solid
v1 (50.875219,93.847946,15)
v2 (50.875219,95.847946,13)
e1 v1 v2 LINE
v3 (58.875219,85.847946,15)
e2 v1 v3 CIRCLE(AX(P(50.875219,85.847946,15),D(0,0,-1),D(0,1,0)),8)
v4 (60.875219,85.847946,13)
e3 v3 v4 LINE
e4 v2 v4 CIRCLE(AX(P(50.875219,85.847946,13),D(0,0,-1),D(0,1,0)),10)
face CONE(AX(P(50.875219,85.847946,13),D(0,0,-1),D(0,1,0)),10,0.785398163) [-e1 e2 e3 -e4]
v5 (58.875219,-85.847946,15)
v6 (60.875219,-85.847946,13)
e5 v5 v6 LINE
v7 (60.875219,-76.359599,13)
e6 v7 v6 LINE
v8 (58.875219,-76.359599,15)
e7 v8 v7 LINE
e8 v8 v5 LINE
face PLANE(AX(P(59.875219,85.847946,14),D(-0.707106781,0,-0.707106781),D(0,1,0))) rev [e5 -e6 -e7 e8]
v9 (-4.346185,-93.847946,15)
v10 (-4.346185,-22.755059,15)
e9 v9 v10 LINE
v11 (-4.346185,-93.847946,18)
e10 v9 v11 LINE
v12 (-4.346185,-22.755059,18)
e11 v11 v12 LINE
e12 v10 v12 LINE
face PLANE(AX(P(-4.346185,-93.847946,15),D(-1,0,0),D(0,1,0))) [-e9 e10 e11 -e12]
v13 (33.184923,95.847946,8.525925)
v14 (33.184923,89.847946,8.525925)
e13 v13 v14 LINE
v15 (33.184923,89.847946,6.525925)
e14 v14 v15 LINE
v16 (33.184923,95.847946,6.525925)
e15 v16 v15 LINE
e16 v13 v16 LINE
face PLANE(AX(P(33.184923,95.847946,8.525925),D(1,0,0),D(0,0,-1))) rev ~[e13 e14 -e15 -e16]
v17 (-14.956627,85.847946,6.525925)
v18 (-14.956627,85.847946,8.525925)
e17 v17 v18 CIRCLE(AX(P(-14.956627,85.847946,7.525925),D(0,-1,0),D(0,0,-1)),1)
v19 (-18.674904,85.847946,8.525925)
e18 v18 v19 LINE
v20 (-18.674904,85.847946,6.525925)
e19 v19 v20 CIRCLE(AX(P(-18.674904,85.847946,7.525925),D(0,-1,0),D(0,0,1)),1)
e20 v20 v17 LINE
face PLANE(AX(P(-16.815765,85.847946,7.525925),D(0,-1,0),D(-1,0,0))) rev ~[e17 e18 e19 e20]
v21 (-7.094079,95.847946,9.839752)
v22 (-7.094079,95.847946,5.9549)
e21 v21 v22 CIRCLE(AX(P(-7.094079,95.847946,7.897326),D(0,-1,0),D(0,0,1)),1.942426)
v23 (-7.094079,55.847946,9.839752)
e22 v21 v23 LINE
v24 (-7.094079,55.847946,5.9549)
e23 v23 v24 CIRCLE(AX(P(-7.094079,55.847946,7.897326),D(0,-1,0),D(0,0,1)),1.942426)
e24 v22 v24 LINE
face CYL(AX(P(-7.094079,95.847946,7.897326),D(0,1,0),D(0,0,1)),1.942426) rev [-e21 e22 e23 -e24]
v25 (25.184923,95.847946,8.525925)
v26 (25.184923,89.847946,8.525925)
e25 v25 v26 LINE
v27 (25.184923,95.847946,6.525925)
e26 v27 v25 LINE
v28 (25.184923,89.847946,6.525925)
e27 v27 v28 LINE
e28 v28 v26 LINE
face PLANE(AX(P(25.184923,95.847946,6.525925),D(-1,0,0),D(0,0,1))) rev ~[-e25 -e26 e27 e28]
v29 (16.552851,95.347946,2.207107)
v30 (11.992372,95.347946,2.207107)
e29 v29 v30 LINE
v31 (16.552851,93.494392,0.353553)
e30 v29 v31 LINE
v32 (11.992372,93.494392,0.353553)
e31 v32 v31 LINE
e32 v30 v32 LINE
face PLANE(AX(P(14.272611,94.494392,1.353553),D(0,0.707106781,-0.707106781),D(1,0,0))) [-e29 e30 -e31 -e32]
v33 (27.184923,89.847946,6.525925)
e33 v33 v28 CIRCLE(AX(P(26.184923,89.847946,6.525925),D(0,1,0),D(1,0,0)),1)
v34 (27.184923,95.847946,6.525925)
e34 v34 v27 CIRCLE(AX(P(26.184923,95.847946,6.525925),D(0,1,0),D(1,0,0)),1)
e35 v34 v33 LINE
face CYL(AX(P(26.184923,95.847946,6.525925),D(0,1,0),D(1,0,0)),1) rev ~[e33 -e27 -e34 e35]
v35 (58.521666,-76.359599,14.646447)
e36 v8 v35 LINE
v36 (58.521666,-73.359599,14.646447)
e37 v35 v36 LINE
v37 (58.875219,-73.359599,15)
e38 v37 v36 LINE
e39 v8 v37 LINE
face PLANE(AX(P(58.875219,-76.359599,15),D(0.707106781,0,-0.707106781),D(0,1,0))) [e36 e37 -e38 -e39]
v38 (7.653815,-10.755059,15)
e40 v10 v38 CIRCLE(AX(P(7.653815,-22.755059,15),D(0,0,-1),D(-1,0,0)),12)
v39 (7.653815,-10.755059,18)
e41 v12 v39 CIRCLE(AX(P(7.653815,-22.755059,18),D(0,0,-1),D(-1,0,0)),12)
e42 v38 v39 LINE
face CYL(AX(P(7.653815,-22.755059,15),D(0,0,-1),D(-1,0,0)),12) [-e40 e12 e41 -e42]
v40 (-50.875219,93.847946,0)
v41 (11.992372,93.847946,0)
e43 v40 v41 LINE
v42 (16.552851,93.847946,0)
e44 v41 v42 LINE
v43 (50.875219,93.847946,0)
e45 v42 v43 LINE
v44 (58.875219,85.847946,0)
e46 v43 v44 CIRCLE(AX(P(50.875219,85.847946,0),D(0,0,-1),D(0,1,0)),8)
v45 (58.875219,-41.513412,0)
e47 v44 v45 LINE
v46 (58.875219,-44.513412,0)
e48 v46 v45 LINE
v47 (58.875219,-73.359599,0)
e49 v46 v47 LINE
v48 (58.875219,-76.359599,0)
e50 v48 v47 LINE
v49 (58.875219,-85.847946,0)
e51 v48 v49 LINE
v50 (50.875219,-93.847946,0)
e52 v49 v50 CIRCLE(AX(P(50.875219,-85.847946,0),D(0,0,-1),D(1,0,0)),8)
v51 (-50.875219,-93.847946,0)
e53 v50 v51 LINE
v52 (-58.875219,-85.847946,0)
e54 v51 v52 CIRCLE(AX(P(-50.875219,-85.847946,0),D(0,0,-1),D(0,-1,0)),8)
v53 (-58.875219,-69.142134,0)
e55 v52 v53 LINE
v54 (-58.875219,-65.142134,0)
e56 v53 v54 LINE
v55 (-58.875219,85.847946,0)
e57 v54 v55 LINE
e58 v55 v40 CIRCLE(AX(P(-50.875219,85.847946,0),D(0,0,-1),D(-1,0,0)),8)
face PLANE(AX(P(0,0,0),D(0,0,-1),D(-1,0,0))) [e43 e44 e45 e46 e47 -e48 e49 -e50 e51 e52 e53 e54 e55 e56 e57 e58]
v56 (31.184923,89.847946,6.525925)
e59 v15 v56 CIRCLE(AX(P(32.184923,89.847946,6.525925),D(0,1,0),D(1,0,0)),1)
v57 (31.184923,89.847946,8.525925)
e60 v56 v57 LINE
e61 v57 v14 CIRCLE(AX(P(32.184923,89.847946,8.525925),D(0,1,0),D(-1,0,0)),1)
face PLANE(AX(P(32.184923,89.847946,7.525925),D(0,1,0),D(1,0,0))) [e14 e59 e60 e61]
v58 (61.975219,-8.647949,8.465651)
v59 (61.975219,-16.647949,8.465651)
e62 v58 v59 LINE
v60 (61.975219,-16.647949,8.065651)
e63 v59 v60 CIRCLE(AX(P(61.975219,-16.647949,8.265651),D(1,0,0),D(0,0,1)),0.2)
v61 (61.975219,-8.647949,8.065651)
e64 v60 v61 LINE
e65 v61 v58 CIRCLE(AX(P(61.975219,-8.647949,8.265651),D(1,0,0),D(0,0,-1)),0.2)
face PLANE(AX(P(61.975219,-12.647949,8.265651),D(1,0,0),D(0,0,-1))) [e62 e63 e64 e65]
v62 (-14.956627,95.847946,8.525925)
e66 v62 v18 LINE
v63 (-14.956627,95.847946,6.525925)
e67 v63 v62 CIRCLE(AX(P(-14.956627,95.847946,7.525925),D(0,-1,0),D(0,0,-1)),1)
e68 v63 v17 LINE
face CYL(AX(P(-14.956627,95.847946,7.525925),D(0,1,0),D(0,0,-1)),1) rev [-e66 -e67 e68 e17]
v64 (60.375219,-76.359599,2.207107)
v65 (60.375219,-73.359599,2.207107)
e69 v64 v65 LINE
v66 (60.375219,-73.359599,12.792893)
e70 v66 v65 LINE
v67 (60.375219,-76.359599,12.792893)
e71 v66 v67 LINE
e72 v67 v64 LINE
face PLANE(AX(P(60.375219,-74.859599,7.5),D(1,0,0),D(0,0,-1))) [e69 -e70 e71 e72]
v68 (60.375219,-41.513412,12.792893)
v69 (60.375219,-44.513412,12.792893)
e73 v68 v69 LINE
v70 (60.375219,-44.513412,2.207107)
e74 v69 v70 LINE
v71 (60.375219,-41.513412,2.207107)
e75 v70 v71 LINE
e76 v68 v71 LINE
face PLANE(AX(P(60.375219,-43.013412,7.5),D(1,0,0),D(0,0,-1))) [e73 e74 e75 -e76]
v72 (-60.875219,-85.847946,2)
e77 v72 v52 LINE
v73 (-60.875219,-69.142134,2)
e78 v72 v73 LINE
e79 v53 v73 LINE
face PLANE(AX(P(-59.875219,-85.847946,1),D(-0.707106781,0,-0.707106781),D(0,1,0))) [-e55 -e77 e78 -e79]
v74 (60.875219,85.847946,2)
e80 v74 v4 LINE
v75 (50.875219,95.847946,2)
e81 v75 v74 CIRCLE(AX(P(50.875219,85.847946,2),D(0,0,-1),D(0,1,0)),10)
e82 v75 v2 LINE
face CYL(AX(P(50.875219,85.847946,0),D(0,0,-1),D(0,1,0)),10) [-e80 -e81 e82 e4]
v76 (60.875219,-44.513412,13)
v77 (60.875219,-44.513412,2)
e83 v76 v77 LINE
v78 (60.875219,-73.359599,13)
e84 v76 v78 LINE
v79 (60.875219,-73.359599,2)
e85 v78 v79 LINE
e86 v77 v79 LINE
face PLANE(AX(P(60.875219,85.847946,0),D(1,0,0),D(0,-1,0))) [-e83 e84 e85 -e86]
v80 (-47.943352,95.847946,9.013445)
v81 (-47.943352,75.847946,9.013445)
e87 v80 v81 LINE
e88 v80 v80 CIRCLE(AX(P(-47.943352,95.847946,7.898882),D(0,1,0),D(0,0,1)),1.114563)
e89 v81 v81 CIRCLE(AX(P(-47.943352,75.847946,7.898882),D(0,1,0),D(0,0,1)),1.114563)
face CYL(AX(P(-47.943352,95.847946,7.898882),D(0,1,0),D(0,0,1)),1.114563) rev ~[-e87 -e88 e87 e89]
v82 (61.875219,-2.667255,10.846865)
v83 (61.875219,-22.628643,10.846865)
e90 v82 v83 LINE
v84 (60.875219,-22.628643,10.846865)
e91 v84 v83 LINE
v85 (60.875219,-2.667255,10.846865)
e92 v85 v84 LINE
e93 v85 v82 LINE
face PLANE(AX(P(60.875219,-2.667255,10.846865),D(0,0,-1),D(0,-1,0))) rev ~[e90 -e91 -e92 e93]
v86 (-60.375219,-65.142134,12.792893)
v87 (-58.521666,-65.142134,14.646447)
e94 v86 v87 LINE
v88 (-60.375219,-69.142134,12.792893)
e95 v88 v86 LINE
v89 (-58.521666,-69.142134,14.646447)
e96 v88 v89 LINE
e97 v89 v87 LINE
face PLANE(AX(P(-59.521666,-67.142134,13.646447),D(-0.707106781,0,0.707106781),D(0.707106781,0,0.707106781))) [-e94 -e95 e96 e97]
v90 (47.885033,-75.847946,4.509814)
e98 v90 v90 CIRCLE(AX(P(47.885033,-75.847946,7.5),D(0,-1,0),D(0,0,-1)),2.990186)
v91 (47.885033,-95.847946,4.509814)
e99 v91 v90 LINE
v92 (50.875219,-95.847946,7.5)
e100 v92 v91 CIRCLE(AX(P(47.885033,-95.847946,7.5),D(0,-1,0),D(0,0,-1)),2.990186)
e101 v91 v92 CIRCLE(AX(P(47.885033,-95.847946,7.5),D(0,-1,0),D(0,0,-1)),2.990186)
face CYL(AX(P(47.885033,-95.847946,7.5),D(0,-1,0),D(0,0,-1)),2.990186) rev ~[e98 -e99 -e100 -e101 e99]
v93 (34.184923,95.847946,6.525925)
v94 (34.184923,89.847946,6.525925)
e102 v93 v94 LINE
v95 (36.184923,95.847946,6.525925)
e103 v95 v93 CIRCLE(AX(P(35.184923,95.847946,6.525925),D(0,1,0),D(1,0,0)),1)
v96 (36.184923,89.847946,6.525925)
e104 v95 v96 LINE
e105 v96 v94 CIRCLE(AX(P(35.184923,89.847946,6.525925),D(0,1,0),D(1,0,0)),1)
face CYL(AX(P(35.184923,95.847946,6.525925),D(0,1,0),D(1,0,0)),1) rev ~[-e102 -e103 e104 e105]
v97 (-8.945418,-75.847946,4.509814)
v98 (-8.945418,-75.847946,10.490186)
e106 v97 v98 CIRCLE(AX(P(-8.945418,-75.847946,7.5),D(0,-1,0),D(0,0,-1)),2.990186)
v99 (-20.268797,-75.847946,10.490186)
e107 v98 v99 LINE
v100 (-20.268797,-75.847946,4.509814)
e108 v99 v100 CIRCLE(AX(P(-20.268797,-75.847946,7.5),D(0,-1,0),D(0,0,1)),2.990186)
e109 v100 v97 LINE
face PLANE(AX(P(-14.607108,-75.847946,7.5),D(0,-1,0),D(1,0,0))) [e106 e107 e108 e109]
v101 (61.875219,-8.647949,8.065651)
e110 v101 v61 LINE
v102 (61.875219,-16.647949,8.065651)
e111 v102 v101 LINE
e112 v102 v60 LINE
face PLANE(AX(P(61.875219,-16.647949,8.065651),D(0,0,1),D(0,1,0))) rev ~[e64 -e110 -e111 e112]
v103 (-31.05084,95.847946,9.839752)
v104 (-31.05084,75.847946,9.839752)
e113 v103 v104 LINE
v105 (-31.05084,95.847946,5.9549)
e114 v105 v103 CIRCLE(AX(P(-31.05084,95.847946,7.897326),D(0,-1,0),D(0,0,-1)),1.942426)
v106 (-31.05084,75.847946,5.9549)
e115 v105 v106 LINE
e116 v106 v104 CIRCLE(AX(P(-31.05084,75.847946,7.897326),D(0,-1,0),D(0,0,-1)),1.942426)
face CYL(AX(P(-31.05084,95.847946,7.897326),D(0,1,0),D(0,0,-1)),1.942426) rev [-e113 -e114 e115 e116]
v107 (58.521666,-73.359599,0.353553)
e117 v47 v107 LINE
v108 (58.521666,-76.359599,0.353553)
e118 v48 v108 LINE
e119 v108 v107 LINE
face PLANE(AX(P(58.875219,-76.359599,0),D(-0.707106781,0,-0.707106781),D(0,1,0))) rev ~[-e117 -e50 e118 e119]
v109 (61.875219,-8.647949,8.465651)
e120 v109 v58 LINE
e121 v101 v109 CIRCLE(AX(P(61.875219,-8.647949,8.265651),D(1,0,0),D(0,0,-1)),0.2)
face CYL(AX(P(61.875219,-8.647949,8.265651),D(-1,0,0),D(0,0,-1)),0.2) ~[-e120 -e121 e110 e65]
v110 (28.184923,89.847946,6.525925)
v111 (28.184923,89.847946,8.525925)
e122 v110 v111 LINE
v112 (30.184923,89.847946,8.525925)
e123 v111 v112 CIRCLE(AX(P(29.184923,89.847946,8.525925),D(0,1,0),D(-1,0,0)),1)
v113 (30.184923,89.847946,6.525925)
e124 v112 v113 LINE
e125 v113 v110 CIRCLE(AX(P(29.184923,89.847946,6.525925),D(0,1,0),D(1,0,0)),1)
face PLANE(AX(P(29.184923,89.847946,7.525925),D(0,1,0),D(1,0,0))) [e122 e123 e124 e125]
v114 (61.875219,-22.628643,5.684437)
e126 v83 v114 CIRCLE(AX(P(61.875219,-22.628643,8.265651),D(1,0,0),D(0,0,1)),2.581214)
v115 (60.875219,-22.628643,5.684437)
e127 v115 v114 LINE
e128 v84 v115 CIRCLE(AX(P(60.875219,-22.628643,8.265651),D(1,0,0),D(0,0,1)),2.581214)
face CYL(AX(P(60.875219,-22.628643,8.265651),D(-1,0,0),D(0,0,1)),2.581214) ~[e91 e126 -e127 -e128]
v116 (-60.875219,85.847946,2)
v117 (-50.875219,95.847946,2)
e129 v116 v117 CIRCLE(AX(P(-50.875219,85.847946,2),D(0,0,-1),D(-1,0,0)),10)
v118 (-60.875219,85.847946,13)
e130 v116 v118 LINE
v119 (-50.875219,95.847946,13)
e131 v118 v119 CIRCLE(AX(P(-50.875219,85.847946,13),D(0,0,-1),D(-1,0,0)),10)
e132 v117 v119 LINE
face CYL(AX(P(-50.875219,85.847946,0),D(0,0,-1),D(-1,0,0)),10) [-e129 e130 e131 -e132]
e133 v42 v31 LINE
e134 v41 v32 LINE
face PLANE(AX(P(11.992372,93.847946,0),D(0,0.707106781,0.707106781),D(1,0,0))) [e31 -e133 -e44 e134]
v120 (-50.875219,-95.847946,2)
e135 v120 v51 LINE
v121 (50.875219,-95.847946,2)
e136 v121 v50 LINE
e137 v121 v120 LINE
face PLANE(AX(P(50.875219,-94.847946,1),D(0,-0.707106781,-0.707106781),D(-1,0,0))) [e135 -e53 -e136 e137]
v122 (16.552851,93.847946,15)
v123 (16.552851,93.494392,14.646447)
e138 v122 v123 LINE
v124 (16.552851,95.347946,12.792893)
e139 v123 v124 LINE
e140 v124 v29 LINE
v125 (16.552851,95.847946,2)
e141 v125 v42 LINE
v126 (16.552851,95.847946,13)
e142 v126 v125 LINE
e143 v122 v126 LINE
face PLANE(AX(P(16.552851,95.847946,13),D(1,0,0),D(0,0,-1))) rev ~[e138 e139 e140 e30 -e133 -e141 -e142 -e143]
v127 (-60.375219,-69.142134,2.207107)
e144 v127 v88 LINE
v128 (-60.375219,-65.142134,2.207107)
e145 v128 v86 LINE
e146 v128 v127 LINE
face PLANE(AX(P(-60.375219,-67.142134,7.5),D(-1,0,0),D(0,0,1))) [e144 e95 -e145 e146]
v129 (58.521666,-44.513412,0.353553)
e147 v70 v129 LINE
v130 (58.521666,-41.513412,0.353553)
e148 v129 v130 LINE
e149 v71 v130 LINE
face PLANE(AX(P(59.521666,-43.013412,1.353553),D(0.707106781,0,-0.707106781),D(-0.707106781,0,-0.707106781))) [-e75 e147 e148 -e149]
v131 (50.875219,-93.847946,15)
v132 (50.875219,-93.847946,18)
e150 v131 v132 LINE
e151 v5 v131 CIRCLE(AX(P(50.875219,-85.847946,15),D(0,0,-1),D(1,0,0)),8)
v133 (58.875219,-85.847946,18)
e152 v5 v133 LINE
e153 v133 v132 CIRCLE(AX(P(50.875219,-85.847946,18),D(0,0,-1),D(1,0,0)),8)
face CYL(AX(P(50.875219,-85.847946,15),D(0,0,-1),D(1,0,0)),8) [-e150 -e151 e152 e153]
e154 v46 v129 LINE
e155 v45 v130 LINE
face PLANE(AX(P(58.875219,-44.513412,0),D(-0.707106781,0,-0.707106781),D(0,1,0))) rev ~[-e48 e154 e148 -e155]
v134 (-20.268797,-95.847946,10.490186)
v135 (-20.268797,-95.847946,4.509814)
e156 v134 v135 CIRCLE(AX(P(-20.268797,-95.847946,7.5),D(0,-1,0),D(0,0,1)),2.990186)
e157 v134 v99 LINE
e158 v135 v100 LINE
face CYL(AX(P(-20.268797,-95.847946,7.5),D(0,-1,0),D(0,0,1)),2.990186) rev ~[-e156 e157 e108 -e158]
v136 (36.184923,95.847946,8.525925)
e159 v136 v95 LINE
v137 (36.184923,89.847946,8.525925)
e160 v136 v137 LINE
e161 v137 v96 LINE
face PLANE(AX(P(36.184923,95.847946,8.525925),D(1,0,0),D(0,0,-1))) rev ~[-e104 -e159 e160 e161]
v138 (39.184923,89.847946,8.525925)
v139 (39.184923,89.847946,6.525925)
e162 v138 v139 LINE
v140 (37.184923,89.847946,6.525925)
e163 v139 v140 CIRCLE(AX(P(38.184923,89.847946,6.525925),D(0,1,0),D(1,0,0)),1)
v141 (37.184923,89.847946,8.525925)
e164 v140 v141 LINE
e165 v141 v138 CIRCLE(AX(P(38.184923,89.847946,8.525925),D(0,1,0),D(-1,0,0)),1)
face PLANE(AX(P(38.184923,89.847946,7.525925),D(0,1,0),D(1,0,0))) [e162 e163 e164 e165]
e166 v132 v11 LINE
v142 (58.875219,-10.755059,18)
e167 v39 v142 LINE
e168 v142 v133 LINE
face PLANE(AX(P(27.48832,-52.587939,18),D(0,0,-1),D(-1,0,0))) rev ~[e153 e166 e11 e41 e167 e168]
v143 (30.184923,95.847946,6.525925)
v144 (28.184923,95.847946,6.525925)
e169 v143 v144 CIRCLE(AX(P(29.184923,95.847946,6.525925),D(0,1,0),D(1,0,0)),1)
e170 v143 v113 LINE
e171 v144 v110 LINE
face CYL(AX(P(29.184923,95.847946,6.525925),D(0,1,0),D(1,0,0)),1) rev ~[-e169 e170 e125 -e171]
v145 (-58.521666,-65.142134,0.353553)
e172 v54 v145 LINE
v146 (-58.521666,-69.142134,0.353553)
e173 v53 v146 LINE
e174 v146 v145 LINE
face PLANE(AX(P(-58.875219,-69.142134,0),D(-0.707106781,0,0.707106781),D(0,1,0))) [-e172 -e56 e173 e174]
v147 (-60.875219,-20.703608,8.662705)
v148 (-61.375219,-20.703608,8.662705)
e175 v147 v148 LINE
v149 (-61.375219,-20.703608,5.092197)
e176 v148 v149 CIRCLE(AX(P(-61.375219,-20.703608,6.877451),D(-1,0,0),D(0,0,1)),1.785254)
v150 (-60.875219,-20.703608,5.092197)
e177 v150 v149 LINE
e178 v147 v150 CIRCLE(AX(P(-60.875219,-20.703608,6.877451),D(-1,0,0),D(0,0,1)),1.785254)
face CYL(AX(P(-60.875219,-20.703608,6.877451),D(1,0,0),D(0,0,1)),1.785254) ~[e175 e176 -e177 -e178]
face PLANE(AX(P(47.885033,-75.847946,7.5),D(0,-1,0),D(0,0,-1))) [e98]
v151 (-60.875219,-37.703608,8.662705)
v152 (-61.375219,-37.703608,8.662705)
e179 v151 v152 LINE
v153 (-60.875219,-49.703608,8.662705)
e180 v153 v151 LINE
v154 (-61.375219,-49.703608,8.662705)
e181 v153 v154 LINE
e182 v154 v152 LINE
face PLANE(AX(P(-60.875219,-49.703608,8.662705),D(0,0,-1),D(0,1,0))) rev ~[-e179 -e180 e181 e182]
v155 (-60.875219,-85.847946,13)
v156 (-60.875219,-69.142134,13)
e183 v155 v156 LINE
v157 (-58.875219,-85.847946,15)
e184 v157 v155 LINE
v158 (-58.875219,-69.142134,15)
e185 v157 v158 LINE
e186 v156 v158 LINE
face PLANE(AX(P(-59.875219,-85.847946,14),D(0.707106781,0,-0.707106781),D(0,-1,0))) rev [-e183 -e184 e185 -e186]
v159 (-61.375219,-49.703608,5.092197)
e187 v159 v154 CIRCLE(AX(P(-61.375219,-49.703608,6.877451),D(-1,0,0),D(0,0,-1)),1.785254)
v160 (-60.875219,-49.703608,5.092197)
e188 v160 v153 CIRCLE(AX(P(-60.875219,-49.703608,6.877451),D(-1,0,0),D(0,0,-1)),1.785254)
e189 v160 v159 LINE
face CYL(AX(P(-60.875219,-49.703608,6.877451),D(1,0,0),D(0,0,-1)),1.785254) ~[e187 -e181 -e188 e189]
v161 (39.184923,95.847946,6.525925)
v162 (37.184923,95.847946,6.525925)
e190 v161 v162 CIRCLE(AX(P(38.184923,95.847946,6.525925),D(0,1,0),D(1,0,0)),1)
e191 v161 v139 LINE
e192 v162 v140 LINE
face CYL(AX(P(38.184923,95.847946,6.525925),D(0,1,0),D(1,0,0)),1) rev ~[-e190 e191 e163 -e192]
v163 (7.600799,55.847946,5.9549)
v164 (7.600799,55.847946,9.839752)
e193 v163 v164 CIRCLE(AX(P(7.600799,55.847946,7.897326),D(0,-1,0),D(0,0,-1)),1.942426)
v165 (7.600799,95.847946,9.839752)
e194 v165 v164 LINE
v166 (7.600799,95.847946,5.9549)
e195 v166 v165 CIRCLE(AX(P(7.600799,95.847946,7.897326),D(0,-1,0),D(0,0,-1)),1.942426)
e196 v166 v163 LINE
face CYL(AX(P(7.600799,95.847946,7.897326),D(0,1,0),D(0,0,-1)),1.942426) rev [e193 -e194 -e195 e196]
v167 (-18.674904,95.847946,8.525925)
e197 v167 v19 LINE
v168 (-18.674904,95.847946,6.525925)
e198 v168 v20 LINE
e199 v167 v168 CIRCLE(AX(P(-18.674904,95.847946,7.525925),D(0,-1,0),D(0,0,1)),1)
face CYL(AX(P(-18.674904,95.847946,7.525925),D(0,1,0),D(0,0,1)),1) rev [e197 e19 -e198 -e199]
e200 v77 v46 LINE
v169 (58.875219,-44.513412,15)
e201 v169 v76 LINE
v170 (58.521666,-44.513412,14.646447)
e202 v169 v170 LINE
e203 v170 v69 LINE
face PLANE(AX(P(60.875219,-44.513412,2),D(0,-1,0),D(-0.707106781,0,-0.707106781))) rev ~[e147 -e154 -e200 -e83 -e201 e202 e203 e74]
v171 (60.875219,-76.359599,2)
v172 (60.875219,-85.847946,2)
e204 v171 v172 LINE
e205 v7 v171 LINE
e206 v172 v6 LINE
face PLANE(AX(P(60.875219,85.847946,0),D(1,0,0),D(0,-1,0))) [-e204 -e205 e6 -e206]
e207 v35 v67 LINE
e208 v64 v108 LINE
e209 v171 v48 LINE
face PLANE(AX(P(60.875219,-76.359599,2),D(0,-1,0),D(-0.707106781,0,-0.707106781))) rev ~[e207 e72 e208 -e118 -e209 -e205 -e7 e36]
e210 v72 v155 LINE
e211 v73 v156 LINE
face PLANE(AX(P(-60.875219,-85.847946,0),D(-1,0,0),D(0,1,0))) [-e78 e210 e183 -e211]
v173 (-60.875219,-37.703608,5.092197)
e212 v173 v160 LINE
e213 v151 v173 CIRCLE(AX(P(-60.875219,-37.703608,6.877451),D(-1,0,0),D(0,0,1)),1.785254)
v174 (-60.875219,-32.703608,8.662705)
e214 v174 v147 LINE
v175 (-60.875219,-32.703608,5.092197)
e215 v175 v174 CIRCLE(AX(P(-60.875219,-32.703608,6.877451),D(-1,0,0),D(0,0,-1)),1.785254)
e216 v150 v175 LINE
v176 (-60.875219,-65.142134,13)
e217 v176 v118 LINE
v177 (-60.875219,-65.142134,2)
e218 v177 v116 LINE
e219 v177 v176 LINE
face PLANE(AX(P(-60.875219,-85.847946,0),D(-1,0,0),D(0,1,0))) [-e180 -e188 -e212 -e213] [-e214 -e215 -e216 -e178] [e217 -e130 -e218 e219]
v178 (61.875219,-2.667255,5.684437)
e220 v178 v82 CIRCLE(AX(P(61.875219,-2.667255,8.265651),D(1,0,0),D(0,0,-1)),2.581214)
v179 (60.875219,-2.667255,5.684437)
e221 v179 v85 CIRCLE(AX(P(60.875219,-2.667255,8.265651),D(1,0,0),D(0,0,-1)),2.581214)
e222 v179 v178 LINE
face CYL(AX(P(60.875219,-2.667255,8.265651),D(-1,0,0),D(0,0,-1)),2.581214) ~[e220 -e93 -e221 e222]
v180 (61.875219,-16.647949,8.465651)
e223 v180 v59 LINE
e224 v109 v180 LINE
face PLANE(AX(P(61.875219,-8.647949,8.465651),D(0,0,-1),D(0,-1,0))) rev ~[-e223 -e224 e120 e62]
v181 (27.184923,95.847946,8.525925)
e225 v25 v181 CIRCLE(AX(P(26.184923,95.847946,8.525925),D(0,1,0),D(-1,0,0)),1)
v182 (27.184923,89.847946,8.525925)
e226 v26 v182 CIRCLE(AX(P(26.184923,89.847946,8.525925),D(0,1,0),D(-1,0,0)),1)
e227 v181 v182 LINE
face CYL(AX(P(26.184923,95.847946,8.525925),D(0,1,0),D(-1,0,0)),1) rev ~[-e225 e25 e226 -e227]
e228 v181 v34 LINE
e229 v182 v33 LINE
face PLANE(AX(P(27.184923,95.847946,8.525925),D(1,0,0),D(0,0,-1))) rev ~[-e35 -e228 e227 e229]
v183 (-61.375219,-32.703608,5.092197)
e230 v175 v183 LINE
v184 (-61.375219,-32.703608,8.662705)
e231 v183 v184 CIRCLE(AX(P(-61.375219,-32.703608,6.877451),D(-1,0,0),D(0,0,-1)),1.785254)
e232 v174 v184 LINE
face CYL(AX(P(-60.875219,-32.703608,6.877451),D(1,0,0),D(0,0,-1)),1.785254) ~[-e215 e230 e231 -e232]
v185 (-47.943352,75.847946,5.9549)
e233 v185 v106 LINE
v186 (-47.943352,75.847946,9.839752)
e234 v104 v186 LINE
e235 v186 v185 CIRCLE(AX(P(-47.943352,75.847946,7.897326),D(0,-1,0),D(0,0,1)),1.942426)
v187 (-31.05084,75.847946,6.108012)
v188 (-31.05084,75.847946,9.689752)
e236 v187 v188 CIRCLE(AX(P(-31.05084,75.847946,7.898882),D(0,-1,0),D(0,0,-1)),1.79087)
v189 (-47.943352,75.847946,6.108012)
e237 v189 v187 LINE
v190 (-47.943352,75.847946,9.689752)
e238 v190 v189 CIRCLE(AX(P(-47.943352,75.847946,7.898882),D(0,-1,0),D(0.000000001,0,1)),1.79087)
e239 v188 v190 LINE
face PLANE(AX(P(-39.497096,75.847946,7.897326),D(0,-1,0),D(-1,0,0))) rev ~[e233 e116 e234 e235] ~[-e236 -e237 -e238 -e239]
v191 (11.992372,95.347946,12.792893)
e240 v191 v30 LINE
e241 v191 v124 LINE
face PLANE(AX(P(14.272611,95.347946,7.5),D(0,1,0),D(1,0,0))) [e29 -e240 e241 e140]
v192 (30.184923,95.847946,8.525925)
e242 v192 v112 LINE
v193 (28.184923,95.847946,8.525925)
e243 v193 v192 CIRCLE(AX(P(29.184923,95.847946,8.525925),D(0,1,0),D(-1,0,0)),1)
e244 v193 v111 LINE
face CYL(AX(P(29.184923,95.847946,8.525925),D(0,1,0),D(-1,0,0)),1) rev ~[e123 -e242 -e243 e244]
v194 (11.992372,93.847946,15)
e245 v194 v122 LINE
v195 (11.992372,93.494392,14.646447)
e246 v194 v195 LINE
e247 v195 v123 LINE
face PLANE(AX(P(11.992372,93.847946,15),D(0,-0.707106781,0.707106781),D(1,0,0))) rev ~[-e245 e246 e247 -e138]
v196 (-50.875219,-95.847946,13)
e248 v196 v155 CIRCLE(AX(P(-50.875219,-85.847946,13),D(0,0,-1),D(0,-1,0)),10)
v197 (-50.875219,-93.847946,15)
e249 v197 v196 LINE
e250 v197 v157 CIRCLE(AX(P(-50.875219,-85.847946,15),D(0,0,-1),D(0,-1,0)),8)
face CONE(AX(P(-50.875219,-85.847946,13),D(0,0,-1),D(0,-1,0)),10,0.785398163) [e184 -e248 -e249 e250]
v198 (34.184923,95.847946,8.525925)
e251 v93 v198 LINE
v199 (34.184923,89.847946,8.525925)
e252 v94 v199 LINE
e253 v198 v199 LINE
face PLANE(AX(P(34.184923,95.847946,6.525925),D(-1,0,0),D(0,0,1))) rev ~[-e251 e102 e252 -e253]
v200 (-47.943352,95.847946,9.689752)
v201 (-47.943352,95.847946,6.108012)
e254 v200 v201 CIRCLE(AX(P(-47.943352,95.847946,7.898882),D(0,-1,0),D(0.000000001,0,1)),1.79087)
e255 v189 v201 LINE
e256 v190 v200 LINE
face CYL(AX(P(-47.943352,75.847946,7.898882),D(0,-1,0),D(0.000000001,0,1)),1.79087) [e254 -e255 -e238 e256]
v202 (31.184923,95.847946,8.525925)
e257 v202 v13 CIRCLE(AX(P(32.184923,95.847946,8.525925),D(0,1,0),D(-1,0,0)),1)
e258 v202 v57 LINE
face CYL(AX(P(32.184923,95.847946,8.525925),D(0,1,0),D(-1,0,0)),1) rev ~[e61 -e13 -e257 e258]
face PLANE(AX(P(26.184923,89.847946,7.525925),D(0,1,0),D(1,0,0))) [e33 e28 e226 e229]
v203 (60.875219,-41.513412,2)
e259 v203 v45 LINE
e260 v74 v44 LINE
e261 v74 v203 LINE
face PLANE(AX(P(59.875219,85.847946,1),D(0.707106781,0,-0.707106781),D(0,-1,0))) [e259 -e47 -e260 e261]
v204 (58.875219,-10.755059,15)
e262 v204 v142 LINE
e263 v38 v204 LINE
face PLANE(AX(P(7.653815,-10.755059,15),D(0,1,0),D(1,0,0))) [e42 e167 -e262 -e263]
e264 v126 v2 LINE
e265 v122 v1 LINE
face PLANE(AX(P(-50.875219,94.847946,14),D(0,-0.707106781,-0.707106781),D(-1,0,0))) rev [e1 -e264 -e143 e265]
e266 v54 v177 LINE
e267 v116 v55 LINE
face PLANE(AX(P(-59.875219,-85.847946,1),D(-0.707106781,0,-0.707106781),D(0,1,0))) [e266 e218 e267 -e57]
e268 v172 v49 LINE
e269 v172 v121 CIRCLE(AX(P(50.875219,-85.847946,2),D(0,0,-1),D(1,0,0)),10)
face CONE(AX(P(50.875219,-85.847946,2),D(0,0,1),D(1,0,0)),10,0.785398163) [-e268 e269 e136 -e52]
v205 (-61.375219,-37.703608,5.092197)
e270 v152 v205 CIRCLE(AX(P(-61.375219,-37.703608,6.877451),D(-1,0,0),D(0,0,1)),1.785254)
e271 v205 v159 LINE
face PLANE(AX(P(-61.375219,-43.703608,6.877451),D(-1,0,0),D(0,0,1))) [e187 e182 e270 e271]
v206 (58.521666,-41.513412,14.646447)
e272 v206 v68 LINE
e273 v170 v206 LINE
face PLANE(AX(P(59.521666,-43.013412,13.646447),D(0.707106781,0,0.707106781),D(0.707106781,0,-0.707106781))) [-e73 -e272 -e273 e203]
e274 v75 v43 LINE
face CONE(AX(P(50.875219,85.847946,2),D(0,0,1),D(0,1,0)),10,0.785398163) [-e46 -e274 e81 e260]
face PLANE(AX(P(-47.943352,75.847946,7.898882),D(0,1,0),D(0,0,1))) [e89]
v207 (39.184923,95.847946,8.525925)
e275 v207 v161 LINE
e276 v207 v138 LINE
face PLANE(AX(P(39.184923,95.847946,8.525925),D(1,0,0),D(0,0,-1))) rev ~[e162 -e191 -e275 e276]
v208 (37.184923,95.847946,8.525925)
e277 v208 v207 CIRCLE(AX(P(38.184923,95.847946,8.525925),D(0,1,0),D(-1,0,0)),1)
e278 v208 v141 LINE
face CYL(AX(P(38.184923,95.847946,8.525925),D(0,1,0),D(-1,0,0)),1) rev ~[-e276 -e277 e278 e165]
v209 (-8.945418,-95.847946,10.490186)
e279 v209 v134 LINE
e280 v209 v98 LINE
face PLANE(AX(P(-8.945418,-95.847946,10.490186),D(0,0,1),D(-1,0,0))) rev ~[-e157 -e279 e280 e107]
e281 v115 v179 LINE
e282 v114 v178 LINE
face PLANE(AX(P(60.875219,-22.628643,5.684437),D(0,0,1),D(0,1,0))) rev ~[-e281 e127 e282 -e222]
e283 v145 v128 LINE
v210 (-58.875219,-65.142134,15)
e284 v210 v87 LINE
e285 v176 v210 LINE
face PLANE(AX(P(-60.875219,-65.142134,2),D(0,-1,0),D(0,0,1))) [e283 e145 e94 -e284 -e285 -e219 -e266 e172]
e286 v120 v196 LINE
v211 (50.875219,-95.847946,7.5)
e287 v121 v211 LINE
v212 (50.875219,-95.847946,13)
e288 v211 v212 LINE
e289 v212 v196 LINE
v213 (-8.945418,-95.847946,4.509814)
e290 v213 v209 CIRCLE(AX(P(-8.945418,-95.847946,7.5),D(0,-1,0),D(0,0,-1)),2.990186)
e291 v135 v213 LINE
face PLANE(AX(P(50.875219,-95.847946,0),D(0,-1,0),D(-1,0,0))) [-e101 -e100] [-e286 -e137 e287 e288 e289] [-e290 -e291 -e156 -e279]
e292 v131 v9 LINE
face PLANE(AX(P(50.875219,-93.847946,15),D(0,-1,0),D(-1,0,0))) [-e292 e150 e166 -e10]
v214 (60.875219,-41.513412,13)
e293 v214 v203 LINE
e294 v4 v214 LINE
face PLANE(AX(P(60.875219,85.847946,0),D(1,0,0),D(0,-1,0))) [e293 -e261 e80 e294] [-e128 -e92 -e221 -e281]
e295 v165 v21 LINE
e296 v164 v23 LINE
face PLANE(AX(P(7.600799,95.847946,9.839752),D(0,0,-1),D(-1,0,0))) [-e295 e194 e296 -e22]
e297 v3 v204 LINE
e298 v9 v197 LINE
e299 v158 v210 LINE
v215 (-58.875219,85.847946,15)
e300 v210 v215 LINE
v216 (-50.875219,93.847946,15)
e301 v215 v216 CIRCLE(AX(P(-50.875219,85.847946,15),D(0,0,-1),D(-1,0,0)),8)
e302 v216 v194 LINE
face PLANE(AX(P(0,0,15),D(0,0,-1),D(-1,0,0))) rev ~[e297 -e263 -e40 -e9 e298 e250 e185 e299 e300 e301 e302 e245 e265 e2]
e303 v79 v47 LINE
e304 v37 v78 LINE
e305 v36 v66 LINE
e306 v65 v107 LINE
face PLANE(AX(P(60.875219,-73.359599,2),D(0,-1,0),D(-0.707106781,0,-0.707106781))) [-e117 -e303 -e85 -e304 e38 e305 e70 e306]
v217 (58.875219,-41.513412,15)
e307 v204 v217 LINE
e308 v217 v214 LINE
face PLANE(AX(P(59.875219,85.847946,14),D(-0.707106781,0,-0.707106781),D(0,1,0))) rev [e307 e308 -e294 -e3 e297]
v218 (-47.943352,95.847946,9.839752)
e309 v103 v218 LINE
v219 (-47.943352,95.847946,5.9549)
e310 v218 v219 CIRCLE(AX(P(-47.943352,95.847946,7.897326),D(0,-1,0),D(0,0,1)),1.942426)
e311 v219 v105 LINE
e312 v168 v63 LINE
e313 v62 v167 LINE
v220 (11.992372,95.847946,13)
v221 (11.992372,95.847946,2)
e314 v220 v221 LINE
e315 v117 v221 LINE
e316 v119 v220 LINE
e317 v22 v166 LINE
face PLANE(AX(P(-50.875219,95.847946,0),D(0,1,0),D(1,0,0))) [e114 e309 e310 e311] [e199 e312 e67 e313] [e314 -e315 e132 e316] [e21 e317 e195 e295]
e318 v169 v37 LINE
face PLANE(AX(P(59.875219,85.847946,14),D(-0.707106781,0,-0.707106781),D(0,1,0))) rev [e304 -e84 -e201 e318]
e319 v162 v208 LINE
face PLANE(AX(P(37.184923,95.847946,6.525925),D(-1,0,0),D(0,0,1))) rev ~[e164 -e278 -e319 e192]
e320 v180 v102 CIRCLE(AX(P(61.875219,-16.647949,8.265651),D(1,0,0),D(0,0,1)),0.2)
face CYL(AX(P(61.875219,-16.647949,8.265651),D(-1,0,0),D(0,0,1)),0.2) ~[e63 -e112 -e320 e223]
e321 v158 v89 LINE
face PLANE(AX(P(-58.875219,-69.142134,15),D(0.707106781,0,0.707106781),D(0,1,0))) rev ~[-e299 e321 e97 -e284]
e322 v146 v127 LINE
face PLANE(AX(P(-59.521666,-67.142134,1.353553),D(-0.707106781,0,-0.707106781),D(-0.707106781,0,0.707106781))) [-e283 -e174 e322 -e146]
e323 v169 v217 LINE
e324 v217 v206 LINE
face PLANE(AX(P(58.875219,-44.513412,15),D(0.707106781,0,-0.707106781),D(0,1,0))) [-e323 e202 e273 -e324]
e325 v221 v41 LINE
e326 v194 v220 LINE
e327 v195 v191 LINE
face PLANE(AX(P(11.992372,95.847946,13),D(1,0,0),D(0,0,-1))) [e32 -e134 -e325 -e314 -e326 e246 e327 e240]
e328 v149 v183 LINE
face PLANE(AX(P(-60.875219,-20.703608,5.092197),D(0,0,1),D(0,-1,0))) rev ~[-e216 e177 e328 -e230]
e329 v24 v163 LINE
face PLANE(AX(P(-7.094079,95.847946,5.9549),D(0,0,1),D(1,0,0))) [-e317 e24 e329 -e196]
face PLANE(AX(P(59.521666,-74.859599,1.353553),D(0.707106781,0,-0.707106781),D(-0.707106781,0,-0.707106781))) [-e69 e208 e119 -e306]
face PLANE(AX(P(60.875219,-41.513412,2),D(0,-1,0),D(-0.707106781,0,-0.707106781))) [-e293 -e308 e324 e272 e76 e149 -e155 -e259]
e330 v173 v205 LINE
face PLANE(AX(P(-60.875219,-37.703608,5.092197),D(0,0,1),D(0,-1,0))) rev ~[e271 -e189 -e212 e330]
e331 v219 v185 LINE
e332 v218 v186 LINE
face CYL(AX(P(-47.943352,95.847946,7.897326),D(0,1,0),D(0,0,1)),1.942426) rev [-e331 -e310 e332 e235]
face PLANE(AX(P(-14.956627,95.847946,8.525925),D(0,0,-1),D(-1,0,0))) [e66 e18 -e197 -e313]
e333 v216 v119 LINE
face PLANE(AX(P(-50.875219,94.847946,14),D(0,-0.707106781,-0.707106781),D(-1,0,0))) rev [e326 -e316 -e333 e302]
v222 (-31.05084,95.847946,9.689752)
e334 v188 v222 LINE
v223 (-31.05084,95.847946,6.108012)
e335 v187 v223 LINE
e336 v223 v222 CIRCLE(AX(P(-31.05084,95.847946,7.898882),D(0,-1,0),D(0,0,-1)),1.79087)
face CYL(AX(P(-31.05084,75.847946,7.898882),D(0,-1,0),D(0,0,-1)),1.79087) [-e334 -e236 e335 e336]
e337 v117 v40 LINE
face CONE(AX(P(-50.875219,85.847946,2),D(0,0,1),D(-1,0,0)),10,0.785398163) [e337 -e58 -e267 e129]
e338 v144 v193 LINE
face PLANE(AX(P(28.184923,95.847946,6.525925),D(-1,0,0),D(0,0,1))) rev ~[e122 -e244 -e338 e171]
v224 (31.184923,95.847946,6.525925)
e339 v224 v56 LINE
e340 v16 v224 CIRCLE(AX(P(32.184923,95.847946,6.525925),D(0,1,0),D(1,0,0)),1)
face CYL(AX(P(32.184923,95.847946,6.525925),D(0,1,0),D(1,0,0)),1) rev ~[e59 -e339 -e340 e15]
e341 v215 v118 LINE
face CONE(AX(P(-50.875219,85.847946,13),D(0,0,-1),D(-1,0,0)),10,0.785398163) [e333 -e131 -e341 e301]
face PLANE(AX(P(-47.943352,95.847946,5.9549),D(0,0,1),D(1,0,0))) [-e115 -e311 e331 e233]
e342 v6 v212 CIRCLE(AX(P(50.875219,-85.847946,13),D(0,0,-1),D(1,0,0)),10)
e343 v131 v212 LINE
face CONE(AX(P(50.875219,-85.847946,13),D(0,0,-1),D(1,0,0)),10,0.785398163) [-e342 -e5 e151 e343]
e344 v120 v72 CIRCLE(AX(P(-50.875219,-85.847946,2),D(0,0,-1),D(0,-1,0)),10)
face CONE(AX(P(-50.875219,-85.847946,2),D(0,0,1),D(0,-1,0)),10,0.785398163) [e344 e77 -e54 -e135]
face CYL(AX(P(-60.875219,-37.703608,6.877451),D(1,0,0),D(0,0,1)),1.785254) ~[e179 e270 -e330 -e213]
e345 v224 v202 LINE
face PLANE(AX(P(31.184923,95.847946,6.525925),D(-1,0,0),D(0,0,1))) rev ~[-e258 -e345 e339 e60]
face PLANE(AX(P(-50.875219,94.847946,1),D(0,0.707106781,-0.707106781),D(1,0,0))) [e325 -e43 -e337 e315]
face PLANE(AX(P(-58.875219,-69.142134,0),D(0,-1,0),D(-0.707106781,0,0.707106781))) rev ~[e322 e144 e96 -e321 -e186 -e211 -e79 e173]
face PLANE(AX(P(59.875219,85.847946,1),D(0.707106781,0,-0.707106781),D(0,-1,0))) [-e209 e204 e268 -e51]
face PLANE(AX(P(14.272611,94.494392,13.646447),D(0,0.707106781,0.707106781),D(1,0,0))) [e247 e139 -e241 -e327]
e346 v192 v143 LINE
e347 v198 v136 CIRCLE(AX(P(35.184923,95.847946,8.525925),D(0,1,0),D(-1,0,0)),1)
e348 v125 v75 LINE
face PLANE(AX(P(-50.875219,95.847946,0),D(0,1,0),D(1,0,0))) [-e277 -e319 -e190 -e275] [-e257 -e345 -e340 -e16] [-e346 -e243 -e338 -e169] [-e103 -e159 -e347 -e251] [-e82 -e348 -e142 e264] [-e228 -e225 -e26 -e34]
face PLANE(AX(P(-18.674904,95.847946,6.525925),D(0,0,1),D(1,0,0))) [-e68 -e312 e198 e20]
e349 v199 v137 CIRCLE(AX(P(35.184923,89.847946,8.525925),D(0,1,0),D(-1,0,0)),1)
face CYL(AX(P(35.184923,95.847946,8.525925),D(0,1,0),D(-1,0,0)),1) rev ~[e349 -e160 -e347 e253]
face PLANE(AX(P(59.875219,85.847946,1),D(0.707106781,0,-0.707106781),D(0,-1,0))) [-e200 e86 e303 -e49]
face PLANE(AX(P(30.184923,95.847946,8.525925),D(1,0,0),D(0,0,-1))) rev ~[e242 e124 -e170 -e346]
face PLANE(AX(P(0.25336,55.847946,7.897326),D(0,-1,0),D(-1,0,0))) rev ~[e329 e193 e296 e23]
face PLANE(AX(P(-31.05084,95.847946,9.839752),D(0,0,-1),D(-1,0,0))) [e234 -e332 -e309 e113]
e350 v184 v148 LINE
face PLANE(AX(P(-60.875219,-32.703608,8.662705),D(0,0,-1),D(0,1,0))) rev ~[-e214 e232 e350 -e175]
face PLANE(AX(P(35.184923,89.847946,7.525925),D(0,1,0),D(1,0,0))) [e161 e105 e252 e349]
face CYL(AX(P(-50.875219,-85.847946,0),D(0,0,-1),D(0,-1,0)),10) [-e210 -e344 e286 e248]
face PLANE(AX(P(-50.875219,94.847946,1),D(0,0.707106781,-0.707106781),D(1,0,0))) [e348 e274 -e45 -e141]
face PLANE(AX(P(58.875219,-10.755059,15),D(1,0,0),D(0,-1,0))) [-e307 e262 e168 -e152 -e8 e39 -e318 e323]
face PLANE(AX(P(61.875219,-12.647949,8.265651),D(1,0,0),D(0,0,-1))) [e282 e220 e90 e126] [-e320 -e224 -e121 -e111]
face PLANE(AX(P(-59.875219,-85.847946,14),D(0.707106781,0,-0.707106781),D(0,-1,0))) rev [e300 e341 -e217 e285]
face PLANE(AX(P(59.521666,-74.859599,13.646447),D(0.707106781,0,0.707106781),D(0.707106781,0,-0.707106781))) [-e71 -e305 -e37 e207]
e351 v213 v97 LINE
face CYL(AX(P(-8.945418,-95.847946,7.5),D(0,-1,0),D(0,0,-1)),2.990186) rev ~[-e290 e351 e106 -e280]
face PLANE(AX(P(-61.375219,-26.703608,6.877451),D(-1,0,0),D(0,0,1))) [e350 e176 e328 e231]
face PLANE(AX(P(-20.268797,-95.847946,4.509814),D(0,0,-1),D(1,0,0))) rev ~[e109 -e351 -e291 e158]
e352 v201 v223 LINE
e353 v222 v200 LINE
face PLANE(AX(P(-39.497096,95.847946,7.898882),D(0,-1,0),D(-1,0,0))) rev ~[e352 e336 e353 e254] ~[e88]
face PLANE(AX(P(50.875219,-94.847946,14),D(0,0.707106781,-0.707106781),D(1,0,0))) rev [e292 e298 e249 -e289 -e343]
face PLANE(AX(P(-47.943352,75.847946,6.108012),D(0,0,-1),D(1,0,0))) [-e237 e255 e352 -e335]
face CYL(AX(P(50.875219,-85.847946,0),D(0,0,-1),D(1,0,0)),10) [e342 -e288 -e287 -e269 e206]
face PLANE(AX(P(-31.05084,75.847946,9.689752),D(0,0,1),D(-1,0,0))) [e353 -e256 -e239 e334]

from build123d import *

# Parameters (mm, degrees)
EXTRUDE_1_DEPTH        = 15
CHAMFER_7_SIZE         = 2
CHAMFER_8_SIZE         = 2
CUT_EXTRUDE_1_DEPTH    = 6
PATTERN_LINEAR_1_COUNT = 5
PATTERN_LINEAR_1_PITCH = 3
CUT_EXTRUDE_2_DEPTH    = 10
CUT_EXTRUDE_3_DEPTH    = 40
CUT_EXTRUDE_5_DEPTH    = 20
EXTRUDE_2_DEPTH        = 20
SKETCH_9_R             = 1.114563032
CUT_EXTRUDE_6_DEPTH    = 20
SKETCH_10_R            = 2.990185925
CUT_EXTRUDE_8_DEPTH    = 20
SKETCH_12_W            = 4.560479379
SKETCH_12_H            = 11
CUT_EXTRUDE_9_DEPTH    = 0.5
SKETCH_13_W            = 4.560479379
SKETCH_13_H            = 2.828427125
CUT_EXTRUDE_10_DEPTH   = 0.5
SKETCH_14_W            = 4.560479379
SKETCH_14_H            = 2.828427125
CUT_EXTRUDE_11_DEPTH   = 0.5
EXTRUDE_3_DEPTH        = 1
EXTRUDE_4_DEPTH        = 0.1
SKETCH_17_W            = 11
SKETCH_17_H            = 3
CUT_EXTRUDE_12_DEPTH   = 0.5
SKETCH_18_W            = 2.828427124
SKETCH_18_H            = 3
CUT_EXTRUDE_13_DEPTH   = 0.5
SKETCH_19_W            = 2.828427124
SKETCH_19_H            = 3
CUT_EXTRUDE_14_DEPTH   = 0.5
EXTRUDE_5_DEPTH        = 0.5
SKETCH_26_W            = 11
SKETCH_26_H            = 4
CUT_EXTRUDE_15_DEPTH   = 0.5
SKETCH_27_W            = 2.828427124
SKETCH_27_H            = 4
CUT_EXTRUDE_16_DEPTH   = 0.5
SKETCH_28_W            = 2.828427124
SKETCH_28_H            = 4
CUT_EXTRUDE_17_DEPTH   = 0.5
EXTRUDE_6_DEPTH        = 3


with BuildPart() as part:
    # 草图1 → 凸台-拉伸1 (new body)
    with BuildSketch(Plane.XY):
        with BuildLine():
            Line((-50.87521941, 95.847945747), (50.87521941, 95.847945747))
            ThreePointArc((50.87521941, 95.847945747), (57.946287222, 92.919013559), (60.87521941, 85.847945747))
            Line((60.87521941, 85.847945747), (60.87521941, -85.847945747))
            ThreePointArc((60.87521941, -85.847945747), (57.946287222, -92.919013559), (50.87521941, -95.847945747))
            Line((50.87521941, -95.847945747), (-50.87521941, -95.847945747))
            ThreePointArc((-50.87521941, -95.847945747), (-57.946287222, -92.919013559), (-60.87521941, -85.847945747))
            Line((-60.87521941, -85.847945747), (-60.87521941, 85.847945747))
            ThreePointArc((-60.87521941, 85.847945747), (-57.946287222, 92.919013559), (-50.87521941, 95.847945747))
        make_face()
    extrude(amount=EXTRUDE_1_DEPTH)

    # 倒角7
    chamfer_7_edges = [part.edges().sort_by_distance(p)[0] for p in [
        (0, 95.847945747, 0),
        (57.946287222, 92.919013559, 0),
        (60.87521941, 0, 0),
        (57.946287222, -92.919013559, 0),
        (0, -95.847945747, 0),
        (-57.946287222, -92.919013559, 0),
        (-60.87521941, 0, 0),
        (-57.946287222, 92.919013559, 0),
    ]]
    chamfer(chamfer_7_edges, length=CHAMFER_7_SIZE)

    # 倒角8
    chamfer_8_edges = [part.edges().sort_by_distance(p)[0] for p in [
        (57.946287222, 92.919013559, 15),
        (0, 95.847945747, 15),
        (-57.946287222, 92.919013559, 15),
        (-60.87521941, 0, 15),
        (-57.946287222, -92.919013559, 15),
        (0, -95.847945747, 15),
        (57.946287222, -92.919013559, 15),
        (60.87521941, 0, 15),
    ]]
    chamfer(chamfer_8_edges, length=CHAMFER_8_SIZE)

    # 草图4 → 切除-拉伸1 (cut)
    with BuildSketch(Plane(origin=(0, 95.847945747, 0), x_dir=(1, 0, 0), z_dir=(0, 1, 0))):
        with BuildLine():
            Line((25.184922723, -6.52592521), (25.184922723, -8.52592521))
            ThreePointArc((25.184922723, -8.52592521), (26.184922723, -9.52592521), (27.184922723, -8.52592521))
            Line((27.184922723, -8.52592521), (27.184922723, -6.52592521))
            ThreePointArc((27.184922723, -6.52592521), (26.184922723, -5.52592521), (25.184922723, -6.52592521))
        make_face()
    cut_extrude_1 = extrude(amount=-CUT_EXTRUDE_1_DEPTH, mode=Mode.SUBTRACT)

    # 阵列(线性)1: 切除-拉伸1 ×5
    with Locations(*[(i * PATTERN_LINEAR_1_PITCH, 0, 0) for i in range(1, PATTERN_LINEAR_1_COUNT)]):
        add(cut_extrude_1, mode=Mode.SUBTRACT)

    # 草图5 → 切除-拉伸2 (cut)
    with BuildSketch(Plane(origin=(0, 95.847945747, 0), x_dir=(1, 0, 0), z_dir=(0, 1, 0))):
        with BuildLine():
            Line((-18.674903906, -6.52592521), (-14.956626917, -6.52592521))
            ThreePointArc((-14.956626917, -6.52592521), (-13.956626917, -7.52592521), (-14.956626917, -8.52592521))
            Line((-14.956626917, -8.52592521), (-18.674903906, -8.52592521))
            ThreePointArc((-18.674903906, -8.52592521), (-19.674903906, -7.52592521), (-18.674903906, -6.52592521))
        make_face()
    extrude(amount=-CUT_EXTRUDE_2_DEPTH, mode=Mode.SUBTRACT)

    # 草图6 → 切除-拉伸3 (cut)
    with BuildSketch(Plane(origin=(0, 95.847945747, 0), x_dir=(1, 0, 0), z_dir=(0, 1, 0))):
        with BuildLine():
            Line((-7.094079035, -5.954899544), (7.600798966, -5.954899544))
            ThreePointArc((7.600798966, -5.954899544), (9.543225368, -7.897325947), (7.600798966, -9.839752349))
            Line((7.600798966, -9.839752349), (-7.094079035, -9.839752349))
            ThreePointArc((-7.094079035, -9.839752349), (-9.036505437, -7.897325947), (-7.094079035, -5.954899544))
        make_face()
    extrude(amount=-CUT_EXTRUDE_3_DEPTH, mode=Mode.SUBTRACT)

    # 草图7 → 切除-拉伸5 (cut)
    with BuildSketch(Plane(origin=(0, 95.847945747, 0), x_dir=(1, 0, 0), z_dir=(0, 1, 0))):
        with BuildLine():
            Line((-47.943352298, -5.954899544), (-31.050839612, -5.954899544))
            ThreePointArc((-31.050839612, -5.954899544), (-29.108413209, -7.897325947), (-31.050839612, -9.839752349))
            Line((-31.050839612, -9.839752349), (-47.943352298, -9.839752349))
            ThreePointArc((-47.943352298, -9.839752349), (-49.885778701, -7.897325947), (-47.943352298, -5.954899544))
        make_face()
    extrude(amount=-CUT_EXTRUDE_5_DEPTH, mode=Mode.SUBTRACT)

    # 草图8 → 凸台-拉伸2 (add)
    with BuildSketch(Plane(origin=(0, 75.847945747, 0), x_dir=(1, 0, 0), z_dir=(0, 1, 0))):
        with BuildLine():
            Line((-47.943352298, -6.108012441), (-31.050839612, -6.108012441))
            ThreePointArc((-31.050839612, -6.108012441), (-29.259969658, -7.898882395), (-31.050839612, -9.689752349))
            Line((-31.050839612, -9.689752349), (-47.943352298, -9.689752349))
            ThreePointArc((-47.943352298, -9.689752349), (-49.734222253, -7.898882395), (-47.943352298, -6.108012441))
        make_face()
    extrude(amount=EXTRUDE_2_DEPTH)

    # 草图9 → 切除-拉伸6 (cut)
    with BuildSketch(Plane(origin=(0, 95.847945747, 0), x_dir=(1, 0, 0), z_dir=(0, 1, 0))):
        with Locations(Location((-47.943352298, -7.898882395, 0), (0, 0, 270))):
            Circle(SKETCH_9_R)
    extrude(amount=-CUT_EXTRUDE_6_DEPTH, mode=Mode.SUBTRACT)

    # 草图10 → 切除-拉伸8 (cut)
    with BuildSketch(Plane.XZ.offset(95.847945747)):
        with Locations(Location((47.885033485, 7.5, 0), (0, 0, 270))):
            Circle(SKETCH_10_R)
        with BuildLine():
            Line((-8.945418448, 10.490185925), (-20.268797242, 10.490185925))
            ThreePointArc((-20.268797242, 10.490185925), (-23.258983167, 7.5), (-20.268797242, 4.509814075))
            Line((-20.268797242, 4.509814075), (-8.945418448, 4.509814075))
            ThreePointArc((-8.945418448, 4.509814075), (-5.955232523, 7.5), (-8.945418448, 10.490185925))
        make_face()
    extrude(amount=-CUT_EXTRUDE_8_DEPTH, mode=Mode.SUBTRACT)

    # 草图12 → 切除-拉伸9 (cut)
    with BuildSketch(Plane(origin=(0, 95.847945747, 0), x_dir=(1, 0, 0), z_dir=(0, 1, 0))):
        with Locations((14.272611391, -7.5)):
            Rectangle(SKETCH_12_W, SKETCH_12_H)
    extrude(amount=-CUT_EXTRUDE_9_DEPTH, mode=Mode.SUBTRACT)

    # 草图13 → 切除-拉伸10 (cut)
    with BuildSketch(Plane(origin=(0, 54.423972873, 54.423972873), x_dir=(1, 0, 0), z_dir=(0, 0.7071067811865452, 0.7071067811865498))):
        with Locations((14.272611391, 57.168130683)):
            Rectangle(SKETCH_13_W, SKETCH_13_H)
    extrude(amount=-CUT_EXTRUDE_10_DEPTH, mode=Mode.SUBTRACT)

    # 草图14 → 切除-拉伸11 (cut)
    with BuildSketch(Plane(origin=(0, 46.923972873, -46.923972873), x_dir=(1, 0, 0), z_dir=(0, 0.707106781186545, -0.70710678118655))):
        with Locations((14.272611391, -67.7747324)):
            Rectangle(SKETCH_14_W, SKETCH_14_H)
    extrude(amount=-CUT_EXTRUDE_11_DEPTH, mode=Mode.SUBTRACT)

    # 草图15 → 凸台-拉伸3 (add)
    with BuildSketch(Plane(origin=(60.87521941, 0, 0), x_dir=(0, 0, -1), z_dir=(1, 0, 0))):
        with BuildLine():
            Line((-10.846864794, -2.667254546), (-10.846864794, -22.628643405))
            ThreePointArc((-10.846864794, -22.628643405), (-8.265650718, -25.209857481), (-5.684436641, -22.628643405))
            Line((-5.684436641, -22.628643405), (-5.684436641, -2.667254546))
            ThreePointArc((-5.684436641, -2.667254546), (-8.265650718, -0.086040469), (-10.846864794, -2.667254546))
        make_face()
    extrude(amount=EXTRUDE_3_DEPTH)

    # 草图16 → 凸台-拉伸4 (add)
    with BuildSketch(Plane(origin=(61.87521941, 0, 0), x_dir=(0, 0, -1), z_dir=(1, 0, 0))):
        with BuildLine():
            Line((-8.465650718, -8.647948975), (-8.465650718, -16.647948975))
            ThreePointArc((-8.465650718, -16.647948975), (-8.265650718, -16.847948975), (-8.065650718, -16.647948975))
            Line((-8.065650718, -16.647948975), (-8.065650718, -8.647948975))
            ThreePointArc((-8.065650718, -8.647948975), (-8.265650718, -8.447948975), (-8.465650718, -8.647948975))
        make_face()
    extrude(amount=EXTRUDE_4_DEPTH)

    # 草图17 → 切除-拉伸12 (cut)
    with BuildSketch(Plane(origin=(60.87521941, 0, 0), x_dir=(0, 0, -1), z_dir=(1, 0, 0))):
        with Locations((-7.5, -74.859598899)):
            Rectangle(SKETCH_17_W, SKETCH_17_H)
        with Locations((-7.5, -43.013411788)):
            Rectangle(SKETCH_17_W, SKETCH_17_H)
    extrude(amount=-CUT_EXTRUDE_12_DEPTH, mode=Mode.SUBTRACT)

    # 草图18 → 切除-拉伸13 (cut)
    with BuildSketch(Plane(origin=(29.437609705, 0, -29.437609705), x_dir=(-0.7071067811865475, 0, -0.7071067811865477), z_dir=(0.7071067811865477, 0, -0.7071067811865475))):
        with Locations((-43.045280451, -43.013411788)):
            Rectangle(SKETCH_18_W, SKETCH_18_H)
        with Locations((-43.045280451, -74.859598899)):
            Rectangle(SKETCH_18_W, SKETCH_18_H)
    extrude(amount=-CUT_EXTRUDE_13_DEPTH, mode=Mode.SUBTRACT)

    # 草图19 → 切除-拉伸14 (cut)
    with BuildSketch(Plane(origin=(36.937609705, 0, 36.937609705), x_dir=(0.7071067811865498, 0, -0.7071067811865452), z_dir=(0.7071067811865452, 0, 0.7071067811865498))):
        with Locations((32.438678733, -43.013411788)):
            Rectangle(SKETCH_19_W, SKETCH_19_H)
        with Locations((32.438678733, -74.859598899)):
            Rectangle(SKETCH_19_W, SKETCH_19_H)
    extrude(amount=-CUT_EXTRUDE_14_DEPTH, mode=Mode.SUBTRACT)

    # 草图25 → 凸台-拉伸5 (add)
    with BuildSketch(Plane.ZY.offset(60.87521941)):
        with BuildLine():
            Line((5.092196702, -20.703608048), (5.092196702, -32.703608048))
            ThreePointArc((5.092196702, -32.703608048), (6.87745097, -34.488862317), (8.662705239, -32.703608048))
            Line((8.662705239, -32.703608048), (8.662705239, -20.703608048))
            ThreePointArc((8.662705239, -20.703608048), (6.87745097, -18.91835378), (5.092196702, -20.703608048))
        make_face()
        with BuildLine():
            Line((5.092196702, -37.703608048), (5.092196702, -49.703608048))
            ThreePointArc((5.092196702, -49.703608048), (6.87745097, -51.488862317), (8.662705239, -49.703608048))
            Line((8.662705239, -49.703608048), (8.662705239, -37.703608048))
            ThreePointArc((8.662705239, -37.703608048), (6.87745097, -35.91835378), (5.092196702, -37.703608048))
        make_face()
    extrude(amount=EXTRUDE_5_DEPTH)

    # 草图26 → 切除-拉伸15 (cut)
    with BuildSketch(Plane.ZY.offset(60.87521941)):
        with Locations((7.5, -67.142133824)):
            Rectangle(SKETCH_26_W, SKETCH_26_H)
    extrude(amount=-CUT_EXTRUDE_15_DEPTH, mode=Mode.SUBTRACT)

    # 草图27 → 切除-拉伸16 (cut)
    with BuildSketch(Plane(origin=(-36.937609705, 0, 36.937609705), x_dir=(0.7071067811865498, 0, 0.7071067811865452), z_dir=(-0.7071067811865452, 0, 0.7071067811865498))):
        with Locations((-32.438678733, -67.142133824)):
            Rectangle(SKETCH_27_W, SKETCH_27_H)
    extrude(amount=-CUT_EXTRUDE_16_DEPTH, mode=Mode.SUBTRACT)

    # 草图28 → 切除-拉伸17 (cut)
    with BuildSketch(Plane(origin=(-29.437609705, 0, -29.437609705), x_dir=(-0.7071067811865475, 0, 0.7071067811865477), z_dir=(-0.7071067811865477, 0, -0.7071067811865475))):
        with Locations((43.045280451, -67.142133824)):
            Rectangle(SKETCH_28_W, SKETCH_28_H)
    extrude(amount=-CUT_EXTRUDE_17_DEPTH, mode=Mode.SUBTRACT)

    # 草图30 → 凸台-拉伸6 (add)
    with BuildSketch(Plane.XY.offset(15)):
        with BuildLine():
            Line((-4.346185338, -93.847945747), (-4.346185338, -22.755058652))
            ThreePointArc((-4.346185338, -22.755058652), (-0.831466712, -14.269777278), (7.653814662, -10.755058652))
            Line((7.653814662, -10.755058652), (58.87521941, -10.755058652))
            Line((58.87521941, -10.755058652), (58.87521941, -85.847945747))
            ThreePointArc((58.87521941, -85.847945747), (56.532073659, -91.504799996), (50.87521941, -93.847945747))
            Line((50.87521941, -93.847945747), (-4.346185338, -93.847945747))
        make_face()
    extrude(amount=EXTRUDE_6_DEPTH)


solid = part.part
